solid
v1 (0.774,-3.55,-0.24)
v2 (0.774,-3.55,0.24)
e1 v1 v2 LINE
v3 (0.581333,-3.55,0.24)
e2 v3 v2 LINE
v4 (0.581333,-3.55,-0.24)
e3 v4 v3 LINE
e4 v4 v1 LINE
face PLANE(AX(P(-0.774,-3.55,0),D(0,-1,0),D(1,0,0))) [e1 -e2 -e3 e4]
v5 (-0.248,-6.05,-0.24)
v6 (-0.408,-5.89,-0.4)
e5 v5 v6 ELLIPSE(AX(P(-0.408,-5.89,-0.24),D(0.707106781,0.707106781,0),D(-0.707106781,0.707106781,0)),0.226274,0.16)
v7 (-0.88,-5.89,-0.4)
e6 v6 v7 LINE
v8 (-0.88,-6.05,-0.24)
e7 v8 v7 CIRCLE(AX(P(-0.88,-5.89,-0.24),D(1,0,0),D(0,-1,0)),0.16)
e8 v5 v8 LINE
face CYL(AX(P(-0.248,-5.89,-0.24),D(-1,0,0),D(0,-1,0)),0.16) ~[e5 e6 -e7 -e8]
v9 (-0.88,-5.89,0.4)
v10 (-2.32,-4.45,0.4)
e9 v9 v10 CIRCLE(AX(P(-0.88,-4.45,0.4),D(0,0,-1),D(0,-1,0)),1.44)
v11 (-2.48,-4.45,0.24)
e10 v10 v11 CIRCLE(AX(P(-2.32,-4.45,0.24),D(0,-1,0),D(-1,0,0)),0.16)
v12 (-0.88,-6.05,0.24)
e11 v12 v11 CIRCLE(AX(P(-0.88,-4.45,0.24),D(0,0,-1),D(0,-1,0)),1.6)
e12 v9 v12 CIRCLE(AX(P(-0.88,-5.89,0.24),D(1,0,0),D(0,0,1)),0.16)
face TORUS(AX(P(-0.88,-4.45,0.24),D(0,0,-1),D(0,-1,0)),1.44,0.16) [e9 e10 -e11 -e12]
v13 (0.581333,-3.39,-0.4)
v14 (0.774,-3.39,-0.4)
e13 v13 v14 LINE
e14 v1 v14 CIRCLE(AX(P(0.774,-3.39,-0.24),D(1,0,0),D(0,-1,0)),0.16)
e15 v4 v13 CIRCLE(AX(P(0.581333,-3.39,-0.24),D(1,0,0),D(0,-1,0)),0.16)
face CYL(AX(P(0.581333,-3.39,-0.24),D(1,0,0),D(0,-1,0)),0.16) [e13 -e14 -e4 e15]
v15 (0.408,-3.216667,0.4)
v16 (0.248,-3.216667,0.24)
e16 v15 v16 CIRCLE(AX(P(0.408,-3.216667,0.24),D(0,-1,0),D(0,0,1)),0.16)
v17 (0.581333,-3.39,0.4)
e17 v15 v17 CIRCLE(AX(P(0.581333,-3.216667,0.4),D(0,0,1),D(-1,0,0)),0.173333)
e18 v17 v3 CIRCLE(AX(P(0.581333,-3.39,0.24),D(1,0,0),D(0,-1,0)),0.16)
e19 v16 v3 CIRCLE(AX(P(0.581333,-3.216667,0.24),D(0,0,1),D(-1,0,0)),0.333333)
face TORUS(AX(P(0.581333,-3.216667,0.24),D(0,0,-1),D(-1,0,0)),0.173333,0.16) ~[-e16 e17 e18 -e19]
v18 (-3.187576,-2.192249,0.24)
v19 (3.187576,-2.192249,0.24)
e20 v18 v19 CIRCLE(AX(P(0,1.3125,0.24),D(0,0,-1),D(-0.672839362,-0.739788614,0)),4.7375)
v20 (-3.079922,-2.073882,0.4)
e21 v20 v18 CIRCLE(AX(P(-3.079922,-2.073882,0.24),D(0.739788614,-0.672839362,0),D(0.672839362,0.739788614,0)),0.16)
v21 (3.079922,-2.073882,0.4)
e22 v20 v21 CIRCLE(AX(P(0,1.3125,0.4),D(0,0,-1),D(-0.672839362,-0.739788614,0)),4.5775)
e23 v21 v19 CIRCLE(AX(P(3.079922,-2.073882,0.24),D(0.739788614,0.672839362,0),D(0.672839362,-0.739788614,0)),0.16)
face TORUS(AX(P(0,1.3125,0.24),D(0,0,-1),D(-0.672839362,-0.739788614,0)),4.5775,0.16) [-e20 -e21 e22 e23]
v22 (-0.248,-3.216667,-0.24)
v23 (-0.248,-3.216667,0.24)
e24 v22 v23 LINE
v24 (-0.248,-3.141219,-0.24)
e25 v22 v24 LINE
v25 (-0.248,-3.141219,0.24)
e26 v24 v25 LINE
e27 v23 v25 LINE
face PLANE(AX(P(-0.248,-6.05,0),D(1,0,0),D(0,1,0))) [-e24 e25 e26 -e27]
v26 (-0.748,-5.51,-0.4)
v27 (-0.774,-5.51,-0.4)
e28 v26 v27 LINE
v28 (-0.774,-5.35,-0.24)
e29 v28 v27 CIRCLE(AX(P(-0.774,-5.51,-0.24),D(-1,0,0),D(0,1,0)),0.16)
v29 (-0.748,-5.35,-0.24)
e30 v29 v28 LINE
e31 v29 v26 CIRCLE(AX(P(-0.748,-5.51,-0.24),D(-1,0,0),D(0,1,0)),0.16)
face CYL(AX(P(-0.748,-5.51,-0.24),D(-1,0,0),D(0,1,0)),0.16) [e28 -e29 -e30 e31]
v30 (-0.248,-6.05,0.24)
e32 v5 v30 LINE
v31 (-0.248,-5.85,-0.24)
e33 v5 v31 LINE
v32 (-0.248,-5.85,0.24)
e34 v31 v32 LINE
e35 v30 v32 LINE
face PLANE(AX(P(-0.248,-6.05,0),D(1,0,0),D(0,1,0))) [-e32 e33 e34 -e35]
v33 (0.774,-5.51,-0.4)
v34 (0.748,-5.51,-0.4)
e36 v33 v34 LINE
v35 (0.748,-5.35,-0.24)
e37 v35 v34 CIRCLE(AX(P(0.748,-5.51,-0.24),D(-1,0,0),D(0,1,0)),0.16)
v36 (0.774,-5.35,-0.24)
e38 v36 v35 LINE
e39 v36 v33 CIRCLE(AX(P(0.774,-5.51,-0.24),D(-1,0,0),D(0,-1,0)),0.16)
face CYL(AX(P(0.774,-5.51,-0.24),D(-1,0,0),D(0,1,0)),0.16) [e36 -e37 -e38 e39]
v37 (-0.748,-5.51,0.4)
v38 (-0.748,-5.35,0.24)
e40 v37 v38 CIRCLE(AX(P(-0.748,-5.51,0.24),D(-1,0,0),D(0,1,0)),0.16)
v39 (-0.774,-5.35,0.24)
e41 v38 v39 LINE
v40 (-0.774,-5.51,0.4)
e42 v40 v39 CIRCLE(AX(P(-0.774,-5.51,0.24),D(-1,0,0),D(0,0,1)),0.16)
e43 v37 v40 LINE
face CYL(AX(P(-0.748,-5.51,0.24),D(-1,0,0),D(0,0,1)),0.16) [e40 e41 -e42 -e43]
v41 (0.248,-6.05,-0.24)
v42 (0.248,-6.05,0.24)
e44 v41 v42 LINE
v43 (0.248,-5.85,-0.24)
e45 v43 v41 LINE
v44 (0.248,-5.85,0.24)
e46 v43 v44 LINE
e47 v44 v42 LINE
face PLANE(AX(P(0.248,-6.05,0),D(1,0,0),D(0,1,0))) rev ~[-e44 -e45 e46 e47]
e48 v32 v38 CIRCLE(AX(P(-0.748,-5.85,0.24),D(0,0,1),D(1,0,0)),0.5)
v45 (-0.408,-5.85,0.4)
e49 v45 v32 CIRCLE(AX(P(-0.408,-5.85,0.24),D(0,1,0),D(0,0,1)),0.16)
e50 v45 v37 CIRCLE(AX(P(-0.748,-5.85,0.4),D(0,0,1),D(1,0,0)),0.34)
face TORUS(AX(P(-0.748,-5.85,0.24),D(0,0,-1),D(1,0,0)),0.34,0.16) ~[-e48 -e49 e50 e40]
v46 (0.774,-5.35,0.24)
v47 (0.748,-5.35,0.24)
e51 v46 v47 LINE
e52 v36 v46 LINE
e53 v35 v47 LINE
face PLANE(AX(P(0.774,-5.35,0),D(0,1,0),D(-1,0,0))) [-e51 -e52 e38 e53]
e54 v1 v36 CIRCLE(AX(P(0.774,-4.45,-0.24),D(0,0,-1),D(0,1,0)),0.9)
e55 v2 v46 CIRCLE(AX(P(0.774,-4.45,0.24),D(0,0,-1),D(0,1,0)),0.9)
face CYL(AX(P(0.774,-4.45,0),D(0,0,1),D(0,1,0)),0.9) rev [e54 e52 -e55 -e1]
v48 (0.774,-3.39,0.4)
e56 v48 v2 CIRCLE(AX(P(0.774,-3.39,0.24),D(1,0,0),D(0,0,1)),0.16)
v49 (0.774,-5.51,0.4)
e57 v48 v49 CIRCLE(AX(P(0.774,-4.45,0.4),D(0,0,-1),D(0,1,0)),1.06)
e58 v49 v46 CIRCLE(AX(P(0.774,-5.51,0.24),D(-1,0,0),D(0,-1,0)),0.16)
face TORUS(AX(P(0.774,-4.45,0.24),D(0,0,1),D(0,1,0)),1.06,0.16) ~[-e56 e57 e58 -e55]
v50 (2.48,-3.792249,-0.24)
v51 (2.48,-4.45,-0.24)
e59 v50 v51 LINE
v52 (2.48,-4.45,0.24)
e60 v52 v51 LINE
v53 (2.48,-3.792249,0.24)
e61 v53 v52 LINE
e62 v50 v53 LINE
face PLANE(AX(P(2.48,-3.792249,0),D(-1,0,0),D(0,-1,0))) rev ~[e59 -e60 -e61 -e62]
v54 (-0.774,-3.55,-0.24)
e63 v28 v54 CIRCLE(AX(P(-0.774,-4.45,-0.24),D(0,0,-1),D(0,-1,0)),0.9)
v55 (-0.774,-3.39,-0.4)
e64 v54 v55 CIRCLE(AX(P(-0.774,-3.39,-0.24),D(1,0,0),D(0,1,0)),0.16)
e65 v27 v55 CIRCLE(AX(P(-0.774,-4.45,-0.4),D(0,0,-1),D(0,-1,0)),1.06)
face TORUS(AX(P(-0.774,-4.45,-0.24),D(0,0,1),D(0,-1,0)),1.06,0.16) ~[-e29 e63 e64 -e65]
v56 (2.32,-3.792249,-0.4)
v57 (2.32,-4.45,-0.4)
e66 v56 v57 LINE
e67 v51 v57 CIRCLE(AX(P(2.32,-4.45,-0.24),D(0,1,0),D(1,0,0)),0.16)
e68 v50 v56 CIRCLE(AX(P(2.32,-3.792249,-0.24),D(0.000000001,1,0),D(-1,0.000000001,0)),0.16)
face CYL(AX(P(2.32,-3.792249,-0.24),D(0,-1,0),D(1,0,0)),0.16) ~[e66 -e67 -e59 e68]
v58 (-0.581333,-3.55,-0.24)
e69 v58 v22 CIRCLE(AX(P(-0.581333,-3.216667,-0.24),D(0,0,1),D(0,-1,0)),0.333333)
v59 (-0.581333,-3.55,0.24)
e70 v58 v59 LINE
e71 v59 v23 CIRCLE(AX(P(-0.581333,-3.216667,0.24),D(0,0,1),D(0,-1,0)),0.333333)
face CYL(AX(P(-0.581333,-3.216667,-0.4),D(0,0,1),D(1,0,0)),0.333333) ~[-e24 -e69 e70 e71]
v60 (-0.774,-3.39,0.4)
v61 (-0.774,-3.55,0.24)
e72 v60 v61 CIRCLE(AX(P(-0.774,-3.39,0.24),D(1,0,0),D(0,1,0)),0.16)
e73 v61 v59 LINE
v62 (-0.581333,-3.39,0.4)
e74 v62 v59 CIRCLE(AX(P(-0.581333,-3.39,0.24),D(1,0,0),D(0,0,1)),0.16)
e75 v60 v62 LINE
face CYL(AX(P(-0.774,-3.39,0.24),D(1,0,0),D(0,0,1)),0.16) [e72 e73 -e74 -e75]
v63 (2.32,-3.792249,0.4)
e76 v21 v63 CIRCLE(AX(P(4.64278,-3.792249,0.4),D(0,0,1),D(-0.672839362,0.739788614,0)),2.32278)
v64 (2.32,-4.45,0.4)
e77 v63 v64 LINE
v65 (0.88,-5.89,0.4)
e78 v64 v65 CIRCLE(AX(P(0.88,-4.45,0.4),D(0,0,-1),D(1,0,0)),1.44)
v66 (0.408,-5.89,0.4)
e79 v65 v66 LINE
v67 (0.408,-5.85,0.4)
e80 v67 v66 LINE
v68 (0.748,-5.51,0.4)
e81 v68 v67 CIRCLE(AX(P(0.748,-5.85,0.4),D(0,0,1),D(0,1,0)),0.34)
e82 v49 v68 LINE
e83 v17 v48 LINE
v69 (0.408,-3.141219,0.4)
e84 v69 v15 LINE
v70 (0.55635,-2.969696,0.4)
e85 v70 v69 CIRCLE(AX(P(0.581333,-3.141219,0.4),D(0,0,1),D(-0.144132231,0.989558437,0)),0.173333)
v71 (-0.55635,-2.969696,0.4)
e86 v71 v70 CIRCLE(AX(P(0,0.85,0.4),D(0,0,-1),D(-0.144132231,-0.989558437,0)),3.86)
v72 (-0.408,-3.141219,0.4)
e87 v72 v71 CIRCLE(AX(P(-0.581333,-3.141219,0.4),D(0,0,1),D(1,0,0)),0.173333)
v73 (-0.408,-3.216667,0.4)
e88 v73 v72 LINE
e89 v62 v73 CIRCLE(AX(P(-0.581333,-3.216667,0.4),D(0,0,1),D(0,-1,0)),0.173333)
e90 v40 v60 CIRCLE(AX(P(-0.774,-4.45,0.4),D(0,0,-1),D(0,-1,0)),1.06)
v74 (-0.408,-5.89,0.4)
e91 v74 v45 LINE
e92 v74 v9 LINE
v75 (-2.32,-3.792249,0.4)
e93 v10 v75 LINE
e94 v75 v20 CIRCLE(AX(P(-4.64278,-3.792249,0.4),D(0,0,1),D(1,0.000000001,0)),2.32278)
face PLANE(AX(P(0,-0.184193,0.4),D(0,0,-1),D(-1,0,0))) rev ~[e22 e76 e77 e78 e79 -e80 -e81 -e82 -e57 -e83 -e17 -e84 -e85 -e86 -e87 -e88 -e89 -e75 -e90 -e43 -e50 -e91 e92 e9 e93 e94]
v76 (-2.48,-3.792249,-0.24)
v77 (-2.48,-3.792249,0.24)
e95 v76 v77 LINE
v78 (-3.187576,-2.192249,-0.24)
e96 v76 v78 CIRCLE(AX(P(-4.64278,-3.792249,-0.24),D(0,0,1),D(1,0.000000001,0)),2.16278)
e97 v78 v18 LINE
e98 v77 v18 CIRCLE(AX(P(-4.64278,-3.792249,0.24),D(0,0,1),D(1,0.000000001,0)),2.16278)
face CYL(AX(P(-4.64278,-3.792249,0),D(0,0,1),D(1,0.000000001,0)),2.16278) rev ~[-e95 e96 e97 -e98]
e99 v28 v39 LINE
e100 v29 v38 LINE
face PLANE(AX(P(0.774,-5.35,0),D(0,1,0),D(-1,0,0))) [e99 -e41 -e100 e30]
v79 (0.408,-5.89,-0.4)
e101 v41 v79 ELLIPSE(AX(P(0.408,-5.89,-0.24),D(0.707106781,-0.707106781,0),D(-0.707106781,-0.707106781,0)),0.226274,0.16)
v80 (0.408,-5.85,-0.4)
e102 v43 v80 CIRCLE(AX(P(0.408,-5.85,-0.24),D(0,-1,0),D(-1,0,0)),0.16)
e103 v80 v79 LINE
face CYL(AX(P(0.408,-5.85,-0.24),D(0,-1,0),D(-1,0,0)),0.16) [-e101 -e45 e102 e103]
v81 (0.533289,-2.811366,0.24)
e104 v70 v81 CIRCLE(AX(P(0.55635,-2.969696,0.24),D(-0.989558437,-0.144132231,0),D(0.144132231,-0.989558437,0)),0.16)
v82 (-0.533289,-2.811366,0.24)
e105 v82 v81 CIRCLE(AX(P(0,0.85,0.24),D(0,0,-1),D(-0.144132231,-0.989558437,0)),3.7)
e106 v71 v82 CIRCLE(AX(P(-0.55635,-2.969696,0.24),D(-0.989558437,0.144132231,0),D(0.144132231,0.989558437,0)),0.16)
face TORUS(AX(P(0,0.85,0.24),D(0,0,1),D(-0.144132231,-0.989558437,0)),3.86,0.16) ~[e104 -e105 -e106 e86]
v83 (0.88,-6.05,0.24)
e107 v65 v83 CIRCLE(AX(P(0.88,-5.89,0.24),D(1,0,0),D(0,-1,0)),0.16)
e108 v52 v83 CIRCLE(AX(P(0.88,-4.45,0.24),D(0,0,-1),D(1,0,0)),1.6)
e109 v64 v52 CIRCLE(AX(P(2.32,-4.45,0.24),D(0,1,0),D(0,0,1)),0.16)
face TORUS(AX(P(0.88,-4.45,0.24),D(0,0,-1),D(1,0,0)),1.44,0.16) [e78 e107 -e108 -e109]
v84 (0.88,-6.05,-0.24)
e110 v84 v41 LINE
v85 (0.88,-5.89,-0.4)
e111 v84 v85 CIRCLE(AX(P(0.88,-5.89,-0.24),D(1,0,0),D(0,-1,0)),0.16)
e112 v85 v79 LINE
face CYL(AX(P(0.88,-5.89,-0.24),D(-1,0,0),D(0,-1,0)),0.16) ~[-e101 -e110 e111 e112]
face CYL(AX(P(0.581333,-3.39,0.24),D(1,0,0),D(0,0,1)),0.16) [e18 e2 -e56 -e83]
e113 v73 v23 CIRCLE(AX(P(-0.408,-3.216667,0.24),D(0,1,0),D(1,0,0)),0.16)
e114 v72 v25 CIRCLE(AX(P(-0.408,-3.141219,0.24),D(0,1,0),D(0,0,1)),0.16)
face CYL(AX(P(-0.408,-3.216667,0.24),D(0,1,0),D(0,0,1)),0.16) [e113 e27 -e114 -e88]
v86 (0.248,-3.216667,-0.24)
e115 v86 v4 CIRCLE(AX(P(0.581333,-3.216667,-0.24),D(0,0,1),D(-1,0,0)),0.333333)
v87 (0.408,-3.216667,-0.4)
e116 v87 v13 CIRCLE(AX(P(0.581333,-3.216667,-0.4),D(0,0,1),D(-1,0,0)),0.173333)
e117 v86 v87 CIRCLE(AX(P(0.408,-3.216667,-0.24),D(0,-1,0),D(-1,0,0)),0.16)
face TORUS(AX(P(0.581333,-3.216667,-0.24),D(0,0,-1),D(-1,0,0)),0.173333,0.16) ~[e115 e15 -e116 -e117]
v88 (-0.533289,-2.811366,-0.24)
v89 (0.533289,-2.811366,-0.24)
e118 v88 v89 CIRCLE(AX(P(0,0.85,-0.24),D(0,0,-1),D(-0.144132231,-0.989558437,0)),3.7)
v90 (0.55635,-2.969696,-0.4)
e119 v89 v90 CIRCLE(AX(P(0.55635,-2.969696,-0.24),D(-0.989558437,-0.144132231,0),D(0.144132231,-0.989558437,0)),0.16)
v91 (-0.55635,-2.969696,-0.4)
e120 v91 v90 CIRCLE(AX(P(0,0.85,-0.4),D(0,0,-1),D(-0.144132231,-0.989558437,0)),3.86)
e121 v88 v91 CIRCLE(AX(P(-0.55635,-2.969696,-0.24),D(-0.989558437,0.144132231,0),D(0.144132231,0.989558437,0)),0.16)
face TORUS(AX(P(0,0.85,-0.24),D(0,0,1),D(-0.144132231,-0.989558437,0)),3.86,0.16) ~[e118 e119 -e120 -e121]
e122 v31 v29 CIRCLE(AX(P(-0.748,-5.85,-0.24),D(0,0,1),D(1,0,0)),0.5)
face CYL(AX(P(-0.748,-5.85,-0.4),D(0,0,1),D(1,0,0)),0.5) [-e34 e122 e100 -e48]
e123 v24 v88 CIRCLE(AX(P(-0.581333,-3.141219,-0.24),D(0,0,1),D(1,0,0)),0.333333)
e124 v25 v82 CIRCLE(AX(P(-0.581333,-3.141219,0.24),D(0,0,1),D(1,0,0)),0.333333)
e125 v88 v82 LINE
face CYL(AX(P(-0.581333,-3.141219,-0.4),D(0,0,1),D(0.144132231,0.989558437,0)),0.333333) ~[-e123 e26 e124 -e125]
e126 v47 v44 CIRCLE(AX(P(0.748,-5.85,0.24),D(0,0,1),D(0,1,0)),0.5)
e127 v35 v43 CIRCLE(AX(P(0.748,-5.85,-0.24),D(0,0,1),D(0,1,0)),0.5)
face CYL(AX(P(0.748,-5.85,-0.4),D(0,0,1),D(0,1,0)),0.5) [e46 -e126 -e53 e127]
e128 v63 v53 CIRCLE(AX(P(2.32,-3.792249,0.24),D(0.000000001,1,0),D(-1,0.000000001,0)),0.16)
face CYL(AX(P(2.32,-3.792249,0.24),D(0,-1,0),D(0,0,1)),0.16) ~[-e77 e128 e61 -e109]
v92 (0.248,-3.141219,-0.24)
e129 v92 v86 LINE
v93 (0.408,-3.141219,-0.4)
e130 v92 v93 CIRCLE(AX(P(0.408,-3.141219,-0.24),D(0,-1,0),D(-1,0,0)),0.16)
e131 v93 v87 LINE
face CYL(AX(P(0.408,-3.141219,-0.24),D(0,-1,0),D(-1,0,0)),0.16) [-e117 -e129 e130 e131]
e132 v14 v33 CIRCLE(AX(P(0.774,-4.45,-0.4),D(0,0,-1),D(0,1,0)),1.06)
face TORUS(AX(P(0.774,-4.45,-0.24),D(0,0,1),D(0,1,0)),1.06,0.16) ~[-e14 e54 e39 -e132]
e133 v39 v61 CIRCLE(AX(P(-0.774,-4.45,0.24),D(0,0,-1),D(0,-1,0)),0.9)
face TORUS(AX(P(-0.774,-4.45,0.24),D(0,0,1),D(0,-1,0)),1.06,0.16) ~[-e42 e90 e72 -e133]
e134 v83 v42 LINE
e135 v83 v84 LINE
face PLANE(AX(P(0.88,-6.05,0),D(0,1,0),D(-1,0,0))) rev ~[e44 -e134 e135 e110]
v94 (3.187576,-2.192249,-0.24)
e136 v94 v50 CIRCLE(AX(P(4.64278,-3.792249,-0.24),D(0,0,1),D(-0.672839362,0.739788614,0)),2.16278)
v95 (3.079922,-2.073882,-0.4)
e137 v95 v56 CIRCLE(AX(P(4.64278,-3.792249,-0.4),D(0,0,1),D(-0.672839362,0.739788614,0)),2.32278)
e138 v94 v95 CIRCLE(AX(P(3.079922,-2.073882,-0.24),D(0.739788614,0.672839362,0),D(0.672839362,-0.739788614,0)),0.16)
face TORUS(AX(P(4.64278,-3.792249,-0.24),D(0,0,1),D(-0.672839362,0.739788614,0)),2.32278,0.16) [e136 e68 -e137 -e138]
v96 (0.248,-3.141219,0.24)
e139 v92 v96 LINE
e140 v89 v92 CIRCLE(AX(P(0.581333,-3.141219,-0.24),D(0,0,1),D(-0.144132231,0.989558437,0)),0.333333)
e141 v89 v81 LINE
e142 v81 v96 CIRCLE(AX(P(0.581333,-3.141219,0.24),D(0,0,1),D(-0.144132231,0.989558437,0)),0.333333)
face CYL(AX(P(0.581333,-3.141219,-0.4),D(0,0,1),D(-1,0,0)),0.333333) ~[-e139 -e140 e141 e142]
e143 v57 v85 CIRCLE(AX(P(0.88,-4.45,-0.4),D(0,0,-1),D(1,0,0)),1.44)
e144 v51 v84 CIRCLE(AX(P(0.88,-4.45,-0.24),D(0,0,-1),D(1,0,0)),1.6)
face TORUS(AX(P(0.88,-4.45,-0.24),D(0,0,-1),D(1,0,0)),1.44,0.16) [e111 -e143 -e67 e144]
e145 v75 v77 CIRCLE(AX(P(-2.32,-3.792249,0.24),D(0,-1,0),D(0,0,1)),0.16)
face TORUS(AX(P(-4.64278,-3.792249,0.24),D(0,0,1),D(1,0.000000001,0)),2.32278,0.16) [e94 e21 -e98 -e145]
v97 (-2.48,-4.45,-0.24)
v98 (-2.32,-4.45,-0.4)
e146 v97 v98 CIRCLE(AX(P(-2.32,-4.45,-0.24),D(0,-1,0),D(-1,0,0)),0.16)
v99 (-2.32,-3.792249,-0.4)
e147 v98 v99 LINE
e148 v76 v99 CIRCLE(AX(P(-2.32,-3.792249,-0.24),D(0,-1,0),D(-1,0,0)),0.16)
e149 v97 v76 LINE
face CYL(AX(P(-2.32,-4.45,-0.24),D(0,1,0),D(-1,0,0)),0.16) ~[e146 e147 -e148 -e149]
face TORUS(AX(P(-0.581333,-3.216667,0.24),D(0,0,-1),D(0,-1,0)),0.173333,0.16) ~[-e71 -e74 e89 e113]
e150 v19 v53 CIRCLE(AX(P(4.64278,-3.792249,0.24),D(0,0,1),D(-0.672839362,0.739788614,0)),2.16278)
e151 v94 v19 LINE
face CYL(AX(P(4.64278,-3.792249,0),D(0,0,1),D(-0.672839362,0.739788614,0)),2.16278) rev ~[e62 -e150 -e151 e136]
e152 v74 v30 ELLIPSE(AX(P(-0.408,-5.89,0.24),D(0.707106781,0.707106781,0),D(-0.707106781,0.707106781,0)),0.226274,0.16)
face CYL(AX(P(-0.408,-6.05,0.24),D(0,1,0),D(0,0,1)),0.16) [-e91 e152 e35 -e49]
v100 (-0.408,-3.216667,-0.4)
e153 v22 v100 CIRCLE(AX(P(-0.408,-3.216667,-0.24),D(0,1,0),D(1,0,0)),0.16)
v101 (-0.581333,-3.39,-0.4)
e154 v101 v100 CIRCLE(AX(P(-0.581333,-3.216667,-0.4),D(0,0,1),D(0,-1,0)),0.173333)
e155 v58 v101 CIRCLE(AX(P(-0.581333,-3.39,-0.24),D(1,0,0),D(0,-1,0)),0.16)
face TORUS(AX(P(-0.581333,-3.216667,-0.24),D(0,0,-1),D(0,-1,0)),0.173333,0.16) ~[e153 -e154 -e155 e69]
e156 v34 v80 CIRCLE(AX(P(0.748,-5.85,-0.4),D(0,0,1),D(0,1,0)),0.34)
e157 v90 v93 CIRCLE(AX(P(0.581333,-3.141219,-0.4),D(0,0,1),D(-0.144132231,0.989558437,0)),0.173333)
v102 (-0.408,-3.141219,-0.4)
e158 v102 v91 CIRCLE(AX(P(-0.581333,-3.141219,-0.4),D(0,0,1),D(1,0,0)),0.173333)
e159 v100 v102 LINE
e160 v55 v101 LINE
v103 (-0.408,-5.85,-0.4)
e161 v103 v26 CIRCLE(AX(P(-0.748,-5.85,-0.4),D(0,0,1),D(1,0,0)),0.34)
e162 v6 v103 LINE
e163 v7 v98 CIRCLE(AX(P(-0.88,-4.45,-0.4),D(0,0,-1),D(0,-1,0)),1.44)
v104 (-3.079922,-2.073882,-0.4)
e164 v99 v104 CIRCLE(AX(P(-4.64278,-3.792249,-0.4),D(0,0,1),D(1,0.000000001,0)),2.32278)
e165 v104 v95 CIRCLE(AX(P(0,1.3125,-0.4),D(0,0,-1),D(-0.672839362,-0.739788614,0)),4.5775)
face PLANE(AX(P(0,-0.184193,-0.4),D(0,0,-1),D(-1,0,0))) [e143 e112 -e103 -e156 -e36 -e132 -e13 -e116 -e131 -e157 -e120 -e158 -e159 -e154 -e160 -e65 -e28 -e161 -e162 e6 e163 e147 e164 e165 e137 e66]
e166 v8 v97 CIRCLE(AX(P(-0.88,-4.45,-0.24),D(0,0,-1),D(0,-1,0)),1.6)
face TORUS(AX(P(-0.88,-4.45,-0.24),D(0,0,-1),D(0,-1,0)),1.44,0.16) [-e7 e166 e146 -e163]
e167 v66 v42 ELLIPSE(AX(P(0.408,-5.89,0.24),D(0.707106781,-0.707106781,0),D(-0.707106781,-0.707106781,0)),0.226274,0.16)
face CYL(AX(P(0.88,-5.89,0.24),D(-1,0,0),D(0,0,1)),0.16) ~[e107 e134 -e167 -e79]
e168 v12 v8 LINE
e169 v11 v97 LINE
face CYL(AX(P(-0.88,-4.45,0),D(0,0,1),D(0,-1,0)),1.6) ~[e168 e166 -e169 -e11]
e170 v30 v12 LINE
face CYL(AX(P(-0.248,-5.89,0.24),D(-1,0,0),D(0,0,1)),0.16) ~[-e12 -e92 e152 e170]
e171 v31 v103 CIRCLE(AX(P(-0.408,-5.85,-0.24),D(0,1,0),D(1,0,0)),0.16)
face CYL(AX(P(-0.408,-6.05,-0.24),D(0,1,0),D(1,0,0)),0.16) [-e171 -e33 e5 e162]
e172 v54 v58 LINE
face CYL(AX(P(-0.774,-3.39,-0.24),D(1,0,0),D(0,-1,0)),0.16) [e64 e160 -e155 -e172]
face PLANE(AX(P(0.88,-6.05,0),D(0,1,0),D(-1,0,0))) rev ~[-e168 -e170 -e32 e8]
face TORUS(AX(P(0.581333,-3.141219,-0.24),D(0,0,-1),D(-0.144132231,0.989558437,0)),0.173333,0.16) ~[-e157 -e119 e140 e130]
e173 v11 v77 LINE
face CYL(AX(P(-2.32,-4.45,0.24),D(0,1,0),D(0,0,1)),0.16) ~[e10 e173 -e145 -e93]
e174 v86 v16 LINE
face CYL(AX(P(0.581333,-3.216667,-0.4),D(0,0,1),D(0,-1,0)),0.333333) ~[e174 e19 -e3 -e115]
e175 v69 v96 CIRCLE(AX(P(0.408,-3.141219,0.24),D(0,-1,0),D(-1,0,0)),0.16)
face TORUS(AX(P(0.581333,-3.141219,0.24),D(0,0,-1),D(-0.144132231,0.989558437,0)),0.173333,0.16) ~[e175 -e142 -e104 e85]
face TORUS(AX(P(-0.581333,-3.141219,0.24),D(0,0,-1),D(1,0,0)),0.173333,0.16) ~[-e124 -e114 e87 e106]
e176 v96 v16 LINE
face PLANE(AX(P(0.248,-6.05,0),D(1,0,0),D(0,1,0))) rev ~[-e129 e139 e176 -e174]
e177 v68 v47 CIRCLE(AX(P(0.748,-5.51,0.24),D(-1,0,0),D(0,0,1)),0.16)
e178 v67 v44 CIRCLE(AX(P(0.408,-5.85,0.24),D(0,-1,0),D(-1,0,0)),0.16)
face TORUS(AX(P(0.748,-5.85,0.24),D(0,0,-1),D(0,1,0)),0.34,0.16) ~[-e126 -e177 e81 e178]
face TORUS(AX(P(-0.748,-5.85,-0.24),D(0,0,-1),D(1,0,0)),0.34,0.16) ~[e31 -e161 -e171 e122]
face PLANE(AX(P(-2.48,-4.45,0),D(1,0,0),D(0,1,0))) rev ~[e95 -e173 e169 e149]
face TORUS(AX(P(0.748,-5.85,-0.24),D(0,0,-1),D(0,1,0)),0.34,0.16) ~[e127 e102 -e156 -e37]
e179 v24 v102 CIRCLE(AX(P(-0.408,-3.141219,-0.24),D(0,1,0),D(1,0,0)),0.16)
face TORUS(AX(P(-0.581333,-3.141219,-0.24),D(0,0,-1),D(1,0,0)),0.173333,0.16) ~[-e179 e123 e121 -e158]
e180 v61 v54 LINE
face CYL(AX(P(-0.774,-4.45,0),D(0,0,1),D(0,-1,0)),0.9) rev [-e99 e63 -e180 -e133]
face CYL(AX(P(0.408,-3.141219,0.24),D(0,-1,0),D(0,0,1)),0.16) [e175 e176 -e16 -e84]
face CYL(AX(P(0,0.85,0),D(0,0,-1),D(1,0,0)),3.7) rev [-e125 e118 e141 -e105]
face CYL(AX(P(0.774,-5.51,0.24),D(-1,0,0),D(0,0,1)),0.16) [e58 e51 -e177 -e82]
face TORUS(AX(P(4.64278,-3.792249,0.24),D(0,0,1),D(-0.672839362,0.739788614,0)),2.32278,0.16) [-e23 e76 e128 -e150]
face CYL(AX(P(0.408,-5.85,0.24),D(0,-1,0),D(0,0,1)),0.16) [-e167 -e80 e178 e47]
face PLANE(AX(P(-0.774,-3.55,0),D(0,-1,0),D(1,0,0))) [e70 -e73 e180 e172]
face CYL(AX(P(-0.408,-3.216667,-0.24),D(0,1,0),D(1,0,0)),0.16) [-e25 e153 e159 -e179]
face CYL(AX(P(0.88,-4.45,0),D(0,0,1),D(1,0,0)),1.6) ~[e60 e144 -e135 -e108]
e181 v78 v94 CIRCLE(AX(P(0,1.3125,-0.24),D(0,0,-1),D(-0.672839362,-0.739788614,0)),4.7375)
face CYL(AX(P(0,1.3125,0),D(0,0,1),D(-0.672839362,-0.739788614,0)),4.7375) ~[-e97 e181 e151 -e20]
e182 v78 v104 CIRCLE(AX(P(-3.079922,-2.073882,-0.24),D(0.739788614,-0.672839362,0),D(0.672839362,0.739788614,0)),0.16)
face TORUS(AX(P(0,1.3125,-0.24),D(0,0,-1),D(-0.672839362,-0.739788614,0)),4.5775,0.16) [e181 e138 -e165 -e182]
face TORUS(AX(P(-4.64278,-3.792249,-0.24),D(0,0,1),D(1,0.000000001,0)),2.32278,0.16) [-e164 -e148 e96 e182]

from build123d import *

# Parameters (mm, degrees)
SKETCH3_R                    = 3.7
BOSS_EXTRUDE1_DEPTH          = 0.4
SKETCH4_W                    = 0.496
SKETCH4_H                    = 6.9
CUT_EXTRUDE_THIN1_DEPTH      = 1.4
CUT_EXTRUDE_THIN1_DEPTH_BACK = 1.4
FILLET2_R                    = 0.5
FILLET3_R                    = 0.333333333
FILLET1_R                    = 0.16


with BuildPart() as part:
    # Sketch3 → Boss-Extrude1 (new body, symmetric)
    with BuildSketch(Plane.XY):
        with BuildLine():
            Line((2.48, -3.792248558), (2.48, -4.45))
            ThreePointArc((2.48, -4.45), (2.01137085, -5.58137085), (0.88, -6.05))
            Line((0.88, -6.05), (-0.88, -6.05))
            ThreePointArc((-0.88, -6.05), (-2.01137085, -5.58137085), (-2.48, -4.45))
            Line((-2.48, -4.45), (-2.48, -3.792248558))
            ThreePointArc((-2.48, -3.792248558), (-2.664788291, -2.917510816), (-3.187576477, -2.192248558))
            ThreePointArc((-3.187576477, -2.192248558), (0, 6.05), (3.187576477, -2.192248558))
            ThreePointArc((3.187576477, -2.192248558), (2.664788291, -2.917510816), (2.48, -3.792248558))
        make_face()
        with Locations((0, 0.85)):
            Circle(SKETCH3_R, mode=Mode.SUBTRACT)
        with BuildLine():
            Line((-0.774, -3.55), (0.774, -3.55))
            ThreePointArc((0.774, -3.55), (1.674, -4.45), (0.774, -5.35))
            Line((0.774, -5.35), (-0.774, -5.35))
            ThreePointArc((-0.774, -5.35), (-1.674, -4.45), (-0.774, -3.55))
        make_face(mode=Mode.SUBTRACT)
    extrude(amount=BOSS_EXTRUDE1_DEPTH, both=True)

    # Sketch4 → Cut-Extrude-Thin1 (cut, two sides)
    with BuildSketch(Plane.XY) as cut_extrude_thin1_sk:
        with Locations((0, -2.6)):
            Rectangle(SKETCH4_W, SKETCH4_H)
    extrude(amount=CUT_EXTRUDE_THIN1_DEPTH, mode=Mode.SUBTRACT)
    extrude(cut_extrude_thin1_sk.sketch, amount=-CUT_EXTRUDE_THIN1_DEPTH_BACK, mode=Mode.SUBTRACT)

    # Fillet2
    fillet2_edges = [part.edges().sort_by_distance(p)[0] for p in [
        (-0.248, -5.35, 0),
        (0.248, -5.35, 0),
    ]]
    fillet(fillet2_edges, radius=FILLET2_R)

    # Fillet3
    fillet3_edges = [part.edges().sort_by_distance(p)[0] for p in [
        (0.248, -3.55, 0),
        (-0.248, -3.55, 0),
        (-0.248, -2.841679293, 0),
        (0.248, -2.841679293, 0),
    ]]
    fillet(fillet3_edges, radius=FILLET3_R)

    # Fillet1
    fillet1_edges = [part.edges().sort_by_distance(p)[0] for p in [
        (-2.01137085, -5.58137085, 0.4),
        (-2.48, -4.121124279, -0.4),
        (-2.664788291, -2.917510816, -0.4),
        (-0.564, -6.05, 0.4),
        (2.01137085, -5.58137085, 0.4),
        (2.48, -4.121124279, 0.4),
        (2.664788291, -2.917510816, 0.4),
        (0, 6.05, 0.4),
        (-1.674, -4.45, -0.4),
        (-0.761, -5.35, -0.4),
        (1.674, -4.45, -0.4),
        (0.677666667, -3.55, -0.4),
        (-1.674, -4.45, 0.4),
        (-0.761, -5.35, 0.4),
        (1.674, -4.45, 0.4),
        (0.677666667, -3.55, 0.4),
        (-2.664788291, -2.917510816, 0.4),
        (0.564, -6.05, -0.4),
        (0.564, -6.05, 0.4),
        (-2.48, -4.121124279, 0.4),
        (0.761, -5.35, -0.4),
        (0, 6.05, -0.4),
        (0.761, -5.35, 0.4),
        (-0.248, -5.95, 0.4),
        (0.248, -5.95, 0.4),
        (-0.394446609, -5.496446609, 0.4),
        (0.394446609, -5.496446609, 0.4),
        (0.248, -5.95, -0.4),
        (-0.248, -5.95, -0.4),
        (2.664788291, -2.917510816, -0.4),
        (-0.394446609, -5.496446609, -0.4),
        (0.394446609, -5.496446609, -0.4),
        (2.48, -4.121124279, -0.4),
        (2.01137085, -5.58137085, -0.4),
        (0.248, -3.178942848, -0.4),
        (0, 4.55, -0.4),
        (-0.248, -3.178942848, -0.4),
        (-0.677666667, -3.55, -0.4),
        (-0.329216492, -2.923163509, -0.4),
        (-0.564, -6.05, -0.4),
        (-0.345631073, -3.452368927, -0.4),
        (0.329216492, -2.923163509, -0.4),
        (0.345631073, -3.452368927, -0.4),
        (0.248, -3.178942848, 0.4),
        (-0.677666667, -3.55, 0.4),
        (-0.248, -3.178942848, 0.4),
        (-2.01137085, -5.58137085, -0.4),
        (0, 4.55, 0.4),
        (-0.329216492, -2.923163509, 0.4),
        (-0.345631073, -3.452368927, 0.4),
        (0.329216492, -2.923163509, 0.4),
        (0.345631073, -3.452368927, 0.4),
    ]]
    fillet(fillet1_edges, radius=FILLET1_R)


solid = part.part
